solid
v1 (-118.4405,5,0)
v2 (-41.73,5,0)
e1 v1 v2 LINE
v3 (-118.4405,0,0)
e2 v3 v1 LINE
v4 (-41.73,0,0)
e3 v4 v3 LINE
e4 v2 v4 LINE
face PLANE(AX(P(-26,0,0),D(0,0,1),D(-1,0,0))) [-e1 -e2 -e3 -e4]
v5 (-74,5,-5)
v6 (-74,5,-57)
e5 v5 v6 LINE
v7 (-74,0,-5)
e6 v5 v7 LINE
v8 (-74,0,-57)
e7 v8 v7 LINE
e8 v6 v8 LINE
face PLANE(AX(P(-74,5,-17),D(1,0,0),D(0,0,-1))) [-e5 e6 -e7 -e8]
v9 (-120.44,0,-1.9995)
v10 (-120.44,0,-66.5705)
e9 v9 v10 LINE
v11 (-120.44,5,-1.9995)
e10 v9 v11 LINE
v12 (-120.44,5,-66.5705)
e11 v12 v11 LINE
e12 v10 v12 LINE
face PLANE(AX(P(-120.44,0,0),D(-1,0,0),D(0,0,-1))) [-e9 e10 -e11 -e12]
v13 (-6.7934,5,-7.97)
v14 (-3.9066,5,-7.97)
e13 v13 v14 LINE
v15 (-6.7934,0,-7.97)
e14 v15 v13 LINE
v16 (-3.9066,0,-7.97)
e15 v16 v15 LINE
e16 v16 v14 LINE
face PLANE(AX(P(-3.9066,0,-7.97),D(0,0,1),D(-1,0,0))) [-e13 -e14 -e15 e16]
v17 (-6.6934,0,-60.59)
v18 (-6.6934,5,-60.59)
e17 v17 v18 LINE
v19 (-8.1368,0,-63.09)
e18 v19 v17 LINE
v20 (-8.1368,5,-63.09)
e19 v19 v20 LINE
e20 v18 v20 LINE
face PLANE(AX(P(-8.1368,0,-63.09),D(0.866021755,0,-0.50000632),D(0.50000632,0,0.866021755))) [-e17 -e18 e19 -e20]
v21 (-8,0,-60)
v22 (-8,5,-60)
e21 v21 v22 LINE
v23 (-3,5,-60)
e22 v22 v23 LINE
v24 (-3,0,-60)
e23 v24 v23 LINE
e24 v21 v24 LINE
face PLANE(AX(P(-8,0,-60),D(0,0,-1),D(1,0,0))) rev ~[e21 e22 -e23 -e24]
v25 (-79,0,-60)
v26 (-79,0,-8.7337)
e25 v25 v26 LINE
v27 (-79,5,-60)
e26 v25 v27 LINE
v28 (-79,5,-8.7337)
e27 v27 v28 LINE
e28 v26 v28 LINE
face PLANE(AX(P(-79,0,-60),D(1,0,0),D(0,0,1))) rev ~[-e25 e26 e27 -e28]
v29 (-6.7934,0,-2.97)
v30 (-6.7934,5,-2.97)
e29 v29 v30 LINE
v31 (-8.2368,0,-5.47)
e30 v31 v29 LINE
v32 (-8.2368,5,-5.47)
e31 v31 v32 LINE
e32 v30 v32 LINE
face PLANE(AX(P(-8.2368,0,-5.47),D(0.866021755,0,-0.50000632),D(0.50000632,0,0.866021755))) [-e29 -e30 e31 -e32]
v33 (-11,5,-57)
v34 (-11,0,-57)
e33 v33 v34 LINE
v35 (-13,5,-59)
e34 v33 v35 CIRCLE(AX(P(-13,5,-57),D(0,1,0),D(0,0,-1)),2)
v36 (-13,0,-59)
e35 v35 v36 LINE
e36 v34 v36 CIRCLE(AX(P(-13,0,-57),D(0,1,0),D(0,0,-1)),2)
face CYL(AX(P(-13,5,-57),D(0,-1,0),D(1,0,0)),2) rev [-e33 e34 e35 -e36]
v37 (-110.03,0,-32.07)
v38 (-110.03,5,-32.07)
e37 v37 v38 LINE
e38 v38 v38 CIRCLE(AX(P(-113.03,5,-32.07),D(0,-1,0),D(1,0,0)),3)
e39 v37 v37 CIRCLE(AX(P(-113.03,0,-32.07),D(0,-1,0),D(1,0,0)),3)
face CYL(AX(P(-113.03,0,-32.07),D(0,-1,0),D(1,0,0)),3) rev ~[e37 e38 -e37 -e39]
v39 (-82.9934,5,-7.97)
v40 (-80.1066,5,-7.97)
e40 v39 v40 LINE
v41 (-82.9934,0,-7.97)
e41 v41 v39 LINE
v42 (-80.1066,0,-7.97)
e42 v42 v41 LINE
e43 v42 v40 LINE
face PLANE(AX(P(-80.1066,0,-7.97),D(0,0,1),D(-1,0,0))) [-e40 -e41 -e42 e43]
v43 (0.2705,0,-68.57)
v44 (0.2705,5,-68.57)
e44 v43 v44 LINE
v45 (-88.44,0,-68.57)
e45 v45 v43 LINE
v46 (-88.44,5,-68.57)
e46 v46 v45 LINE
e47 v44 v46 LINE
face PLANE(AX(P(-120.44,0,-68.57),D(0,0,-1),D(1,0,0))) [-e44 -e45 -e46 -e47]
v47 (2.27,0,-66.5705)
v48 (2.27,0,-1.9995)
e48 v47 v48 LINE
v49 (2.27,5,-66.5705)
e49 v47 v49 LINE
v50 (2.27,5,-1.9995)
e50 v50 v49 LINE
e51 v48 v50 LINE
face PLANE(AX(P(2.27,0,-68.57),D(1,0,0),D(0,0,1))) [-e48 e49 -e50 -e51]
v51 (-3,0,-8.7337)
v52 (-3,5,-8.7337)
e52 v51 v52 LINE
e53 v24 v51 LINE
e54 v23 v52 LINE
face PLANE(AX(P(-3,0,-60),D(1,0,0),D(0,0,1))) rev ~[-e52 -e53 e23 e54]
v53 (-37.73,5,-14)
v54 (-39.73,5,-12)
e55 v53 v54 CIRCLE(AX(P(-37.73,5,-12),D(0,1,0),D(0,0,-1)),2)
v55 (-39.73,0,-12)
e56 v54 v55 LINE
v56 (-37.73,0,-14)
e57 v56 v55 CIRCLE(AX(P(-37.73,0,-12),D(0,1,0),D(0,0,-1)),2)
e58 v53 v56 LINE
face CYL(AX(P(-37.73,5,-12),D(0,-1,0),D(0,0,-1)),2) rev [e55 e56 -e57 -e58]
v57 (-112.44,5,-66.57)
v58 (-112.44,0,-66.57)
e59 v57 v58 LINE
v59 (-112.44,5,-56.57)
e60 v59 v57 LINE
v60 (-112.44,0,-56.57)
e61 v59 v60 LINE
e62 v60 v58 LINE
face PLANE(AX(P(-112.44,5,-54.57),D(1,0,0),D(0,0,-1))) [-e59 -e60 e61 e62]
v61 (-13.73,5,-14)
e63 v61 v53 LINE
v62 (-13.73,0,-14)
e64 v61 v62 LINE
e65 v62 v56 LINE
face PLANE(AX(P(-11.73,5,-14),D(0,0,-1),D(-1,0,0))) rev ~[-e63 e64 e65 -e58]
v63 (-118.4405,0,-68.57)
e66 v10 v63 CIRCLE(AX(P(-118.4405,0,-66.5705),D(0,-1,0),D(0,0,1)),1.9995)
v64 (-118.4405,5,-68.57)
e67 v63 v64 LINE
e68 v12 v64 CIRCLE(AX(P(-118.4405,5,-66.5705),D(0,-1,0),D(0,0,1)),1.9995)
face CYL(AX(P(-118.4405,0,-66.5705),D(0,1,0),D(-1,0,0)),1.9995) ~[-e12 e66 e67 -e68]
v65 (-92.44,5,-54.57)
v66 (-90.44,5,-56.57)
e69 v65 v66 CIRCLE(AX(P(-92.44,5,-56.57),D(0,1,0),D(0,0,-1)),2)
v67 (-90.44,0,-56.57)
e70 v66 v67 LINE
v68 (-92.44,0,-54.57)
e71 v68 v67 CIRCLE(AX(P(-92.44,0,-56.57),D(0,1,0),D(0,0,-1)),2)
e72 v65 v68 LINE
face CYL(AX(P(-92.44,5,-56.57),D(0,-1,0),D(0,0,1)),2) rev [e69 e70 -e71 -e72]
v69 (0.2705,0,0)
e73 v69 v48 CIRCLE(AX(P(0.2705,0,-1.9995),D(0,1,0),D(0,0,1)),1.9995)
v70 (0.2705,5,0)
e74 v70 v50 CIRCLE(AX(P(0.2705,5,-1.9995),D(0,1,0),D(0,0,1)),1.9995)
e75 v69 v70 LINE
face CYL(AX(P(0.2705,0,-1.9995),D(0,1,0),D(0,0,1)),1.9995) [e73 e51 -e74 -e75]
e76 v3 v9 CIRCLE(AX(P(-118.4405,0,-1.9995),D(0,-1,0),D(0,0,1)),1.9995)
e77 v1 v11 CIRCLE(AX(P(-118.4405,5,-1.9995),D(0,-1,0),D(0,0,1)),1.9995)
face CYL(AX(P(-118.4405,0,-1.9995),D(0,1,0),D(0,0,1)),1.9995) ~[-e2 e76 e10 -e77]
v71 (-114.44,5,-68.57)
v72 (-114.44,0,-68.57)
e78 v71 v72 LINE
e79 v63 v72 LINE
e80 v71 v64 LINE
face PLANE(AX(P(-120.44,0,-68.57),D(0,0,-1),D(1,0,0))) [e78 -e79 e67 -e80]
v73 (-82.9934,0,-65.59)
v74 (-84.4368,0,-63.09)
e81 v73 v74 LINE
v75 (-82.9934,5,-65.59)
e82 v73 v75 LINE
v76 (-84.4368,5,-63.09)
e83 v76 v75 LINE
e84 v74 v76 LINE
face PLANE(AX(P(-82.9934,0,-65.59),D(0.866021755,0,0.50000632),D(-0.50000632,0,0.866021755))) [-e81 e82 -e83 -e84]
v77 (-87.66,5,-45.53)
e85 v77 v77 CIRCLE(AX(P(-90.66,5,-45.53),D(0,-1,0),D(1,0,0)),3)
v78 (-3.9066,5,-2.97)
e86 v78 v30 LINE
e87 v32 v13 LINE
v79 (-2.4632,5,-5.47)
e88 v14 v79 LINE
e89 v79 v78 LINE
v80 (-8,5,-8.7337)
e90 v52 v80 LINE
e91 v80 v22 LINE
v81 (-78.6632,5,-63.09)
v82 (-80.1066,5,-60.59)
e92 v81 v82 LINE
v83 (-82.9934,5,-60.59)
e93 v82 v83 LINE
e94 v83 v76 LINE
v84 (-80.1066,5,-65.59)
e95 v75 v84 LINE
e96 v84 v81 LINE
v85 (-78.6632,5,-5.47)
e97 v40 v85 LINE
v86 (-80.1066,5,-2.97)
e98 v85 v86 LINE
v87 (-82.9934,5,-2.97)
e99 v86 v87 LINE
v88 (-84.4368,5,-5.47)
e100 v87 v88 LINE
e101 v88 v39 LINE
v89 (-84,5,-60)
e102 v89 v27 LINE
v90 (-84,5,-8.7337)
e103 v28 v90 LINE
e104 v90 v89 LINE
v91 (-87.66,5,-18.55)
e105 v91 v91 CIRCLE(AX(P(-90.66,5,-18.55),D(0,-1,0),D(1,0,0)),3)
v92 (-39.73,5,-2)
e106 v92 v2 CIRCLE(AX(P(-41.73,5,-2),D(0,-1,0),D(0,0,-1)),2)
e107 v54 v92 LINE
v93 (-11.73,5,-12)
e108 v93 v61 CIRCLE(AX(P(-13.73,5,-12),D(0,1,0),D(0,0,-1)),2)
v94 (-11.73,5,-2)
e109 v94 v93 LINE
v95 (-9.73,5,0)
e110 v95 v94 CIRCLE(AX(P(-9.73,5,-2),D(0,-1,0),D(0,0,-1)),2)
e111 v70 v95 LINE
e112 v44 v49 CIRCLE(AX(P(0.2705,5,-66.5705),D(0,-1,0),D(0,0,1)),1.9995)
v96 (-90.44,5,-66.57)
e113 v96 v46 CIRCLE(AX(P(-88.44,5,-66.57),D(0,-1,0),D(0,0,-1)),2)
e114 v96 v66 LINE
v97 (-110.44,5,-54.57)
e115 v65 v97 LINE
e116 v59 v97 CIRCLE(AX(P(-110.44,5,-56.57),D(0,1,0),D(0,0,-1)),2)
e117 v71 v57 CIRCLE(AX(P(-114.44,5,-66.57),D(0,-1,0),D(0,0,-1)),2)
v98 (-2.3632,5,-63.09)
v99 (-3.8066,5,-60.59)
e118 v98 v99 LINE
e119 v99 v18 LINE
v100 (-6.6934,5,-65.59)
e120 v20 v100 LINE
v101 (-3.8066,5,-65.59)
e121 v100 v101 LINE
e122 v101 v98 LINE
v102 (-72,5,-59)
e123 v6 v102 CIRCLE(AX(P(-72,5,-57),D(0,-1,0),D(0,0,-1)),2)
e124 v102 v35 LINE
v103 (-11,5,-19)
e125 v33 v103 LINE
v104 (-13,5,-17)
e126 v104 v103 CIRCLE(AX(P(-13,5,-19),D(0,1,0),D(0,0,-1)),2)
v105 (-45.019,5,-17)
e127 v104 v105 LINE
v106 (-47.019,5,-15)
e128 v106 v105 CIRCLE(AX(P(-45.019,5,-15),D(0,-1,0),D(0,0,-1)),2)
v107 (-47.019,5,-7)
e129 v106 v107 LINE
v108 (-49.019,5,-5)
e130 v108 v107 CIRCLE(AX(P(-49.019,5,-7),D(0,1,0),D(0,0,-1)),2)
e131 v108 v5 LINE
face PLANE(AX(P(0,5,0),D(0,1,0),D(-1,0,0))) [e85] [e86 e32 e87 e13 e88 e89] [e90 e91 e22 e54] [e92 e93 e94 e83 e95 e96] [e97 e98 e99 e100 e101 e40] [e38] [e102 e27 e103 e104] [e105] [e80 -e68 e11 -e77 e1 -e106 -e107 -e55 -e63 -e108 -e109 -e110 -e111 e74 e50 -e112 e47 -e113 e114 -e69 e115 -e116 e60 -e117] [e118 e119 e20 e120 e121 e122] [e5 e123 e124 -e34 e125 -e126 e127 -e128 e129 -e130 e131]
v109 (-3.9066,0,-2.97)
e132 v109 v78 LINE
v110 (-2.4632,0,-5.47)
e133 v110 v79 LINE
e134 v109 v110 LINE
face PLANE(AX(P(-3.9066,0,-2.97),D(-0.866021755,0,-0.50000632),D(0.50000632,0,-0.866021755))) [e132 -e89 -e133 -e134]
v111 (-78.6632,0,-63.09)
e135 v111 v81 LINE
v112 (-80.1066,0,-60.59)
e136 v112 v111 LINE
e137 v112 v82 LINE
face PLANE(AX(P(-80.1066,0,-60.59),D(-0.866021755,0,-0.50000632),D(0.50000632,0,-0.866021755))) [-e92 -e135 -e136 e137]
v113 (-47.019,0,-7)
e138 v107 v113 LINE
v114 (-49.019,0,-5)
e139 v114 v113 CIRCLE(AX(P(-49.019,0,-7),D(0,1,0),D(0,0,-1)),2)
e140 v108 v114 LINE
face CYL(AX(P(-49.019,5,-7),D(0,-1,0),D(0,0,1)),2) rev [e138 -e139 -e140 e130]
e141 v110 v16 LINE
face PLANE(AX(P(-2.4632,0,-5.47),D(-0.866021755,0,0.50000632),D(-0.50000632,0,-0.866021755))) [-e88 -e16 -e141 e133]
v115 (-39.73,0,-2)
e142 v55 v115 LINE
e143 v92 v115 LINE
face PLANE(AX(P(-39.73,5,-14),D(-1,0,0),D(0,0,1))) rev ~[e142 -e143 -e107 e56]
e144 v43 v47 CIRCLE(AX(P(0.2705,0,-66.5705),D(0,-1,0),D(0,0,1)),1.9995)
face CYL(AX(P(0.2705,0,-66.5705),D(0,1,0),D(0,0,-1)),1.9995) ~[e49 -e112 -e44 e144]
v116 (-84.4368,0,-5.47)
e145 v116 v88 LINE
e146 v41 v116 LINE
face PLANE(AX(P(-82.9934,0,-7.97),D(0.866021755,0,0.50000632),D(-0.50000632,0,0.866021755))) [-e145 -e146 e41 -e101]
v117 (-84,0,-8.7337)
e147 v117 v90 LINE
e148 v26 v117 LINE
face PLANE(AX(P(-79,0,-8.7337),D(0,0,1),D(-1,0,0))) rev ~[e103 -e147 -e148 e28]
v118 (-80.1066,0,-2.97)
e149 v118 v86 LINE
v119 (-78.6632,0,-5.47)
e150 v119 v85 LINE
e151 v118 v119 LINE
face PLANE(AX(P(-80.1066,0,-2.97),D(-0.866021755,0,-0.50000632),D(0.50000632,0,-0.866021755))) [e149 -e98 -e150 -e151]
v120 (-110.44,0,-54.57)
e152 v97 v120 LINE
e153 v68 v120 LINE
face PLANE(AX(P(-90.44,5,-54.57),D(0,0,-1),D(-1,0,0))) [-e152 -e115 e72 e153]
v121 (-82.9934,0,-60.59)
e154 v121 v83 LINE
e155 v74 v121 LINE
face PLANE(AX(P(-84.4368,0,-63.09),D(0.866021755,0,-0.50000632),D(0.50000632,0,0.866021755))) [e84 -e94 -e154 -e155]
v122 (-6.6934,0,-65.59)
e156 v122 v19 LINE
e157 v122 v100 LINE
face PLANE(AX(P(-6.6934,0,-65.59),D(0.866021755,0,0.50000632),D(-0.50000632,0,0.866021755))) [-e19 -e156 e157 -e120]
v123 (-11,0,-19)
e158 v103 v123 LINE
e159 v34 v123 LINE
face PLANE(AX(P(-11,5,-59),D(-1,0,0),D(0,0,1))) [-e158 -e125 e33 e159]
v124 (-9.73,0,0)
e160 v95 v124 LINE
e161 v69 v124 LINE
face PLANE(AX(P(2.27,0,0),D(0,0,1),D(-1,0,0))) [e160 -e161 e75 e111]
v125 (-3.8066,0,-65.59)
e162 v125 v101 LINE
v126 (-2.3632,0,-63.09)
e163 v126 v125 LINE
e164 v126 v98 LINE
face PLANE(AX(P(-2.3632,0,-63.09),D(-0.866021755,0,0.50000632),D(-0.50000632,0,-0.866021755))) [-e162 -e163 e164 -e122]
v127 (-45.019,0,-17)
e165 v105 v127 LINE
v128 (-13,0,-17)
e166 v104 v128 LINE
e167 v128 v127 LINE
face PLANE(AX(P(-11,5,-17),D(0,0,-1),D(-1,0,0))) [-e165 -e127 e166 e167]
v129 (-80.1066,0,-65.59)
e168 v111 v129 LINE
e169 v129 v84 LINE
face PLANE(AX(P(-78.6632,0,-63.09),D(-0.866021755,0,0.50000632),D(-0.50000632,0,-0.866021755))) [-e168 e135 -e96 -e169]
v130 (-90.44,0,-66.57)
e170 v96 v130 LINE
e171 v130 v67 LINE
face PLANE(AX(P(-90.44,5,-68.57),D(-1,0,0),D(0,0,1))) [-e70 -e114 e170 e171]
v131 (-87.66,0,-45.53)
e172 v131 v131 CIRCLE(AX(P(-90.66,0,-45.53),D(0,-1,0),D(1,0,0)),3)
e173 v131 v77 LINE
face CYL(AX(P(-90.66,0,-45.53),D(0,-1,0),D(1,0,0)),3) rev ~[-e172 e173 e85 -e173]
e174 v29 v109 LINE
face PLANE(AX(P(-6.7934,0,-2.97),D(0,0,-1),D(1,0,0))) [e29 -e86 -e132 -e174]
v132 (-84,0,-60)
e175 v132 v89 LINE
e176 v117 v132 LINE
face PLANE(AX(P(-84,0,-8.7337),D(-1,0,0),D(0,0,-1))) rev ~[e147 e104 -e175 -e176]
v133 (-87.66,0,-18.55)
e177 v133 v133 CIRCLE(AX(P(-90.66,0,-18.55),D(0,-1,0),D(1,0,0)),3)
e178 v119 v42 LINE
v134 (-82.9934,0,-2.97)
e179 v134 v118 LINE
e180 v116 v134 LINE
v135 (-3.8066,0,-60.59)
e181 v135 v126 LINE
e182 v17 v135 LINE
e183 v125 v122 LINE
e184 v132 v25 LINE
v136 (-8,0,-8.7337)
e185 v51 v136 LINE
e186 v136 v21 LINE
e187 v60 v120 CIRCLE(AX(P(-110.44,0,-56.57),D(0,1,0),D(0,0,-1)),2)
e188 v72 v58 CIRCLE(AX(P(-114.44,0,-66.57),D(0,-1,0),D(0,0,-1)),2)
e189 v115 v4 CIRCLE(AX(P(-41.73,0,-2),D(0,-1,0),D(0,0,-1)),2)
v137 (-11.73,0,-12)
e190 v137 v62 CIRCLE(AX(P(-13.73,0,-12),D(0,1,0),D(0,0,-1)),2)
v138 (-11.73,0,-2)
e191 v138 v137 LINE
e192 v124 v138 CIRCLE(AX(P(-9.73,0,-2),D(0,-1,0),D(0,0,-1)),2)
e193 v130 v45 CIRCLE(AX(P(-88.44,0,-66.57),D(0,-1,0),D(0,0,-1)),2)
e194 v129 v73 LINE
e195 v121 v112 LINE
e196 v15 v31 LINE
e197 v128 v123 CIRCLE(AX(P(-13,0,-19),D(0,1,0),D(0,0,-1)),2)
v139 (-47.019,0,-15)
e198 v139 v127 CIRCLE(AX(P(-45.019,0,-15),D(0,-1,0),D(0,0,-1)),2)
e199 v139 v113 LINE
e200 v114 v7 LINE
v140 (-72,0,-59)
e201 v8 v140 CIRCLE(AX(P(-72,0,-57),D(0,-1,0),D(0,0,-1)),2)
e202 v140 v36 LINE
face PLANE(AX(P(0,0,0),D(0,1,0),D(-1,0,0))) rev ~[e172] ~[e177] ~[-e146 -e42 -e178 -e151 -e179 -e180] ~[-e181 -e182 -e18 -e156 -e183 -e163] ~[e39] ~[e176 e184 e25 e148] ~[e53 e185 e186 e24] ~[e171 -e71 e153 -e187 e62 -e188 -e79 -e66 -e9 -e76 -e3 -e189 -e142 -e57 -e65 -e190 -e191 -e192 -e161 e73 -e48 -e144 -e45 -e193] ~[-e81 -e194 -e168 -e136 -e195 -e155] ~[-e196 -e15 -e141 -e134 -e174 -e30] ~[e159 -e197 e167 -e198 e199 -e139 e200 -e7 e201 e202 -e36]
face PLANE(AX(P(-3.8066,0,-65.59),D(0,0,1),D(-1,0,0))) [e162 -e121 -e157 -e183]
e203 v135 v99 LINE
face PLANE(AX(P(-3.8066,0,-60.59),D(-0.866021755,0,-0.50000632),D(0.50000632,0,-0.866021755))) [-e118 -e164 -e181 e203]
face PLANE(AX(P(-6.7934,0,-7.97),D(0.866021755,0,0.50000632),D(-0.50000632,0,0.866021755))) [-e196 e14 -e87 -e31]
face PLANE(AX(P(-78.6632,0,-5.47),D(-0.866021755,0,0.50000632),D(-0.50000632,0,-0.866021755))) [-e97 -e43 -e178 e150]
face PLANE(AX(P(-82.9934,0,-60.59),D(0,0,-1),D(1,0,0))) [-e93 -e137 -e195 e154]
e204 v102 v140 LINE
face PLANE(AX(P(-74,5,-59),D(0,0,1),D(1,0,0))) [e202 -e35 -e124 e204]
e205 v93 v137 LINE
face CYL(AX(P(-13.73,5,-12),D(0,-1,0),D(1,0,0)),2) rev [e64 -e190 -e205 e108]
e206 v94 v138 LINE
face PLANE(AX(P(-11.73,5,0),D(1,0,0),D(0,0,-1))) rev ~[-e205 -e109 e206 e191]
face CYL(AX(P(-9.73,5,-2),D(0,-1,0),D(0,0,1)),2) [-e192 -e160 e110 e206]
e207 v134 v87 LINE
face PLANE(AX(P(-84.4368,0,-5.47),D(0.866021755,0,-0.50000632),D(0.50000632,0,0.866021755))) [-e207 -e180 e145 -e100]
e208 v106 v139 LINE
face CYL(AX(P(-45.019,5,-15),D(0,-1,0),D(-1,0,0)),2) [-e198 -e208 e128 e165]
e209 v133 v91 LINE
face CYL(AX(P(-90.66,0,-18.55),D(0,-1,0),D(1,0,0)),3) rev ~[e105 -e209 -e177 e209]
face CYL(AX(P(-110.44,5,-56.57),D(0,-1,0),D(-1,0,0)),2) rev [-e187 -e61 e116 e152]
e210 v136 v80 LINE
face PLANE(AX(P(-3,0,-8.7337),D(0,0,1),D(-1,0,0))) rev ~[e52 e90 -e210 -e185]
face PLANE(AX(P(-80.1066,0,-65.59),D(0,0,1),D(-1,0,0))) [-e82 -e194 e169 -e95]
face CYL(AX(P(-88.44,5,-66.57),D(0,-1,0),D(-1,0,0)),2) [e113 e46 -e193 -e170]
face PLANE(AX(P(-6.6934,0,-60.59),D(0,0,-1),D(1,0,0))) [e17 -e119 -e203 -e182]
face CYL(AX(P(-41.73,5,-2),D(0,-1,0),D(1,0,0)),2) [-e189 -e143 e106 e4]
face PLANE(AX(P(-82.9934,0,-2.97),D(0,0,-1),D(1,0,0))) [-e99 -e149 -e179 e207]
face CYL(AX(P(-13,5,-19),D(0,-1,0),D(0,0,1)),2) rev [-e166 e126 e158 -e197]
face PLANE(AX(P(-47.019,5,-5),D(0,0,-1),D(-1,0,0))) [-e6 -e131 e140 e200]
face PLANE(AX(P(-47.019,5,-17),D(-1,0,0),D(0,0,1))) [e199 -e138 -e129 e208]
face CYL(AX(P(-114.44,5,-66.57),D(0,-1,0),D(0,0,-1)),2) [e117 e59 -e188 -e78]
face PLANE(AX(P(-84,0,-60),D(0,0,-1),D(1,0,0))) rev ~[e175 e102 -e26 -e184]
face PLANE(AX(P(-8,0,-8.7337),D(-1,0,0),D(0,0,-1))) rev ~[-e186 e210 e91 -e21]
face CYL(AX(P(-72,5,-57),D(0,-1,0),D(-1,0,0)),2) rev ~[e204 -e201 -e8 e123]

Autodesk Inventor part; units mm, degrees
ref_plane "YZ Plane" through (0, 0, 0) normal (1, 0, 0) x (0, 1, 0)
ref_plane "XZ Plane" through (0, 0, 0) normal (0, 1, 0) x (-1, 0, 0)
ref_plane "XY Plane" through (0, 0, 0) normal (0, 0, 1) x (1, 0, 0)
sketch "Sketch1" plane through (0, 0, 0) normal (0, 1, 0) x (-1, 0, 0)
  line L0 (-2.27, 0) -> (120.44, 0)
  line L1 (120.44, 0) -> (120.44, -68.57)
  line L2 (120.44, -68.57) -> (-2.27, -68.57)
  line L3 (-2.27, -68.57) -> (-2.27, 0)
  line L4 (120.44, -66.57) -> (120.44, -2)
  line L5 (0, -68.57) -> (118.44, -68.57)
  line L6 (-2.27, -2.27) -> (-2.27, -66.3)
  circle A0 centre (81.55, -63.09) radius 1.5
  circle A1 centre (81.55, -63.09) radius 1.5
  line L7 (70.44, -68.57) -> (15.73, -68.57)
  line L8 (51, 0) -> (75, 0)
  line L9 (26, 0) -> (51, 0)
  line L10 (84, -60) -> (79, -60)
  line L11 (79, -60) -> (79, -8.7337)
  line L12 (79, -8.7337) -> (84, -8.7337)
  line L13 (84, -8.7337) -> (84, -60)
  line L14 (8, -60) -> (3, -60)
  line L15 (3, -60) -> (3, -8.7337)
  line L16 (3, -8.7337) -> (8, -8.7337)
  line L17 (8, -8.7337) -> (8, -60)
  circle A2 centre (5.25, -63.09) radius 1.5
  circle A3 centre (5.35, -5.47) radius 1.5
  circle A4 centre (81.55, -5.47) radius 1.5
  circle A5 centre (81.55, -5.47) radius 1.5
  circle A6 centre (5.35, -5.47) radius 1.5
  circle A7 centre (5.25, -63.09) radius 1.5
  dimension "d20" = 3
  dimension "d27" = 3
  dimension "d28" = 3
  dimension "d29" = 3
  dimension "d30" = 68.57
extrude "Extrusion1" add sketch "Sketch1" along normal blind 5
fillet "Fillet4" radius 2 4 edges at (-120.44, 2.5, -68.57) (-120.44, 2.5, 0) (2.27, 2.5, -68.57) (2.27, 2.5, 0)
sketch "Sketch7" plane through (0, 5, 0) normal (0, 1, 0) x (1, 0, 0)
  line L0 (-117.44, 63.57) -> (-87.44, 63.57)
  line L1 (-87.44, 63.57) -> (-87.44, 5)
  line L2 (-87.44, 5) -> (-117.44, 5)
  line L3 (-117.44, 5) -> (-117.44, 63.57)
  line L4 (-120.44, 66.57) -> (-120.44, 2) projected
  line L5 (0.27, 68.57) -> (-118.44, 68.57) projected
  line L6 (-118.44, 0) -> (0.27, 0) projected
  point P0 (0, 0)
  dimension "d67" = 30
  dimension "d68" = 3
  dimension "d69" = 5
  dimension "d70" = 5
extrude "Extrusion6" [suppressed]
fillet "Fillet8" [suppressed]
sketch "Sketch8" plane through (0, 5, 0) normal (0, 1, 0) x (1, 0, 0)
  line L0 (-118.44, 0) -> (0.27, 0) projected
  line L1 (-39.73, 0) -> (-11.73, 0)
  line L2 (-11.73, 0) -> (-11.73, 14)
  line L3 (-11.73, 14) -> (-39.73, 14)
  line L4 (-39.73, 14) -> (-39.73, 0)
  line L5 (2.27, 2) -> (2.27, 66.57) projected
  point P0 (0, 0)
  point P1 (-11.73, 0)
  dimension "d74" = 28
  dimension "d75" = 14
  dimension "d82" = 14
extrude "Extrusion7" cut sketch "Sketch8" against normal blind 10
sketch "Sketch9" plane through (0, 5, 0) normal (0, 1, 0) x (1, 0, 0)
  line L0 (-74, 59) -> (-11, 59)
  line L1 (-11, 59) -> (-11, 17)
  line L2 (-11, 17) -> (-74, 17)
  line L3 (-74, 17) -> (-74, 59)
  line L4 (-74, 17) -> (-47.019, 17)
  line L5 (-47.019, 17) -> (-47.019, 5)
  line L6 (-47.019, 5) -> (-74, 5)
  line L7 (-74, 5) -> (-74, 17)
  point P0 (0, 0)
extrude "Extrusion8" cut sketch "Sketch9" against normal blind 5
fillet "Fillet9" radius 2 5 edges at (-74, 2.5, -59) (-11, 2.5, -59) (-11, 2.5, -17) (-47.019, 2.5, -5) (-47.019, 2.5, -17)
fillet "Fillet10" radius 2 4 edges at (-39.73, 2.5, -14) (-11.73, 2.5, -14) (-11.73, 2.5, 0) (-39.73, 2.5, 0)
sketch "Sketch10" plane through (0, 0, 0) normal (0, -1, 0) x (1, 0, 0)
  circle A0 centre (-90.66, -18.55) radius 3
  circle A1 centre (-113.03, -32.07) radius 3
  circle A2 centre (-90.66, -45.53) radius 3
  line L0 (-120.44, -66.57) -> (-120.44, -2) projected
  line L1 (-118.44, 0) -> (-41.73, 0) projected
  line L2 (-90.66, -45.53) -> (-90.66, -18.55) construction
  point P0 (0, 0)
  dimension "d83" = 29.78
  dimension "d84" = 18.55
  dimension "d85" = 6
  dimension "d86" = 13.52
  dimension "d87" = 6
  dimension "d88" = 22.37
  dimension "d89" = 13.46
  dimension "d90" = 6
extrude "Extrusion9" cut sketch "Sketch10" against normal blind 10
sketch "Sketch11" plane through (0, 0, 0) normal (0, -1, 0) x (1, 0, 0)
  circle A0 centre (-90.66, -18.55) radius 3 projected
  line L0 (-92.9694, -18.55) -> (-91.8147, -16.55)
  line L1 (-91.8147, -16.55) -> (-89.5053, -16.55)
  line L2 (-89.5053, -16.55) -> (-88.3506, -18.55)
  line L3 (-88.3506, -18.55) -> (-89.5053, -20.55)
  line L4 (-89.5053, -20.55) -> (-91.8147, -20.55)
  line L5 (-91.8147, -20.55) -> (-92.9694, -18.55)
  circle A1 centre (-113.03, -32.07) radius 3 projected
  line L6 (-115.3394, -32.07) -> (-114.1847, -30.07)
  line L7 (-114.1847, -30.07) -> (-111.8753, -30.07)
  line L8 (-111.8753, -30.07) -> (-110.7206, -32.07)
  line L9 (-110.7206, -32.07) -> (-111.8753, -34.07)
  line L10 (-111.8753, -34.07) -> (-114.1847, -34.07)
  line L11 (-114.1847, -34.07) -> (-115.3394, -32.07)
  circle A2 centre (-90.66, -45.53) radius 3 projected
  line L12 (-92.9694, -45.53) -> (-91.8147, -43.53)
  line L13 (-91.8147, -43.53) -> (-89.5053, -43.53)
  line L14 (-89.5053, -43.53) -> (-88.3506, -45.53)
  line L15 (-88.3506, -45.53) -> (-89.5053, -47.53)
  line L16 (-89.5053, -47.53) -> (-91.8147, -47.53)
  line L17 (-91.8147, -47.53) -> (-92.9694, -45.53)
  point P0 (0, 0)
  dimension "d93" = 4
  dimension "d94" = 4
  dimension "d95" = 4
extrude "Extrusion10" [suppressed]
sketch "Sketch12" plane through (0, 0, 0) normal (0, -1, 0) x (1, 0, 0)
  circle A0 centre (-5.35, -5.47) radius 1.5 projected
  line L0 (-8.2368, -5.47) -> (-6.7934, -2.97)
  line L1 (-6.7934, -2.97) -> (-3.9066, -2.97)
  line L2 (-3.9066, -2.97) -> (-2.4632, -5.47)
  line L3 (-2.4632, -5.47) -> (-3.9066, -7.97)
  line L4 (-3.9066, -7.97) -> (-6.7934, -7.97)
  line L5 (-6.7934, -7.97) -> (-8.2368, -5.47)
  circle A1 centre (-81.55, -5.47) radius 1.5 projected
  line L6 (-84.4368, -5.47) -> (-82.9934, -2.97)
  line L7 (-82.9934, -2.97) -> (-80.1066, -2.97)
  line L8 (-80.1066, -2.97) -> (-78.6632, -5.47)
  line L9 (-78.6632, -5.47) -> (-80.1066, -7.97)
  line L10 (-80.1066, -7.97) -> (-82.9934, -7.97)
  line L11 (-82.9934, -7.97) -> (-84.4368, -5.47)
  circle A2 centre (-81.55, -63.09) radius 1.5 projected
  line L12 (-84.4368, -63.09) -> (-82.9934, -60.59)
  line L13 (-82.9934, -60.59) -> (-80.1066, -60.59)
  line L14 (-80.1066, -60.59) -> (-78.6632, -63.09)
  line L15 (-78.6632, -63.09) -> (-80.1066, -65.59)
  line L16 (-80.1066, -65.59) -> (-82.9934, -65.59)
  line L17 (-82.9934, -65.59) -> (-84.4368, -63.09)
  circle A3 centre (-5.25, -63.09) radius 1.5 projected
  line L18 (-6.6934, -60.59) -> (-3.8066, -60.59)
  line L19 (-3.8066, -60.59) -> (-2.3632, -63.09)
  line L20 (-2.3632, -63.09) -> (-3.8066, -65.59)
  line L21 (-3.8066, -65.59) -> (-6.6934, -65.59)
  line L22 (-6.6934, -65.59) -> (-8.1368, -63.09)
  line L23 (-8.1368, -63.09) -> (-6.6934, -60.59)
  line L24 (-8, -60) -> (-3, -60) projected
  line L25 (-84, -60) -> (-79, -60) projected
  line L26 (-79, -8.7337) -> (-84, -8.7337) projected
  line L27 (-3, -8.7337) -> (-8, -8.7337) projected
  point P0 (0, 0)
  dimension "d98" = 5
  dimension "d99" = 5
  dimension "d100" = 5
extrude "Extrusion11" cut sketch "Sketch12" against normal blind 10
sketch "Sketch13" plane through (0, 5, 0) normal (0, 1, 0) x (1, 0, 0)
  line L0 (0.27, 68.57) -> (-118.44, 68.57) projected
  line L1 (-112.44, 68.57) -> (-90.44, 68.57)
  line L2 (-90.44, 68.57) -> (-90.44, 54.57)
  line L3 (-90.44, 54.57) -> (-112.44, 54.57)
  line L4 (-112.44, 54.57) -> (-112.44, 68.57)
  line L5 (-120.44, 66.57) -> (-120.44, 2) projected
  point P0 (0, 0)
  point P1 (-90.44, 68.57)
  dimension "d103" = 8
  dimension "d104" = 22
  dimension "d105" = 14
extrude "Extrusion12" cut sketch "Sketch13" against normal blind 10
fillet "Fillet11" radius 2 4 edges at (-112.44, 2.5, -68.57) (-90.44, 2.5, -68.57) (-112.44, 2.5, -54.57) (-90.44, 2.5, -54.57)
properties part number "Middle PMMA"
